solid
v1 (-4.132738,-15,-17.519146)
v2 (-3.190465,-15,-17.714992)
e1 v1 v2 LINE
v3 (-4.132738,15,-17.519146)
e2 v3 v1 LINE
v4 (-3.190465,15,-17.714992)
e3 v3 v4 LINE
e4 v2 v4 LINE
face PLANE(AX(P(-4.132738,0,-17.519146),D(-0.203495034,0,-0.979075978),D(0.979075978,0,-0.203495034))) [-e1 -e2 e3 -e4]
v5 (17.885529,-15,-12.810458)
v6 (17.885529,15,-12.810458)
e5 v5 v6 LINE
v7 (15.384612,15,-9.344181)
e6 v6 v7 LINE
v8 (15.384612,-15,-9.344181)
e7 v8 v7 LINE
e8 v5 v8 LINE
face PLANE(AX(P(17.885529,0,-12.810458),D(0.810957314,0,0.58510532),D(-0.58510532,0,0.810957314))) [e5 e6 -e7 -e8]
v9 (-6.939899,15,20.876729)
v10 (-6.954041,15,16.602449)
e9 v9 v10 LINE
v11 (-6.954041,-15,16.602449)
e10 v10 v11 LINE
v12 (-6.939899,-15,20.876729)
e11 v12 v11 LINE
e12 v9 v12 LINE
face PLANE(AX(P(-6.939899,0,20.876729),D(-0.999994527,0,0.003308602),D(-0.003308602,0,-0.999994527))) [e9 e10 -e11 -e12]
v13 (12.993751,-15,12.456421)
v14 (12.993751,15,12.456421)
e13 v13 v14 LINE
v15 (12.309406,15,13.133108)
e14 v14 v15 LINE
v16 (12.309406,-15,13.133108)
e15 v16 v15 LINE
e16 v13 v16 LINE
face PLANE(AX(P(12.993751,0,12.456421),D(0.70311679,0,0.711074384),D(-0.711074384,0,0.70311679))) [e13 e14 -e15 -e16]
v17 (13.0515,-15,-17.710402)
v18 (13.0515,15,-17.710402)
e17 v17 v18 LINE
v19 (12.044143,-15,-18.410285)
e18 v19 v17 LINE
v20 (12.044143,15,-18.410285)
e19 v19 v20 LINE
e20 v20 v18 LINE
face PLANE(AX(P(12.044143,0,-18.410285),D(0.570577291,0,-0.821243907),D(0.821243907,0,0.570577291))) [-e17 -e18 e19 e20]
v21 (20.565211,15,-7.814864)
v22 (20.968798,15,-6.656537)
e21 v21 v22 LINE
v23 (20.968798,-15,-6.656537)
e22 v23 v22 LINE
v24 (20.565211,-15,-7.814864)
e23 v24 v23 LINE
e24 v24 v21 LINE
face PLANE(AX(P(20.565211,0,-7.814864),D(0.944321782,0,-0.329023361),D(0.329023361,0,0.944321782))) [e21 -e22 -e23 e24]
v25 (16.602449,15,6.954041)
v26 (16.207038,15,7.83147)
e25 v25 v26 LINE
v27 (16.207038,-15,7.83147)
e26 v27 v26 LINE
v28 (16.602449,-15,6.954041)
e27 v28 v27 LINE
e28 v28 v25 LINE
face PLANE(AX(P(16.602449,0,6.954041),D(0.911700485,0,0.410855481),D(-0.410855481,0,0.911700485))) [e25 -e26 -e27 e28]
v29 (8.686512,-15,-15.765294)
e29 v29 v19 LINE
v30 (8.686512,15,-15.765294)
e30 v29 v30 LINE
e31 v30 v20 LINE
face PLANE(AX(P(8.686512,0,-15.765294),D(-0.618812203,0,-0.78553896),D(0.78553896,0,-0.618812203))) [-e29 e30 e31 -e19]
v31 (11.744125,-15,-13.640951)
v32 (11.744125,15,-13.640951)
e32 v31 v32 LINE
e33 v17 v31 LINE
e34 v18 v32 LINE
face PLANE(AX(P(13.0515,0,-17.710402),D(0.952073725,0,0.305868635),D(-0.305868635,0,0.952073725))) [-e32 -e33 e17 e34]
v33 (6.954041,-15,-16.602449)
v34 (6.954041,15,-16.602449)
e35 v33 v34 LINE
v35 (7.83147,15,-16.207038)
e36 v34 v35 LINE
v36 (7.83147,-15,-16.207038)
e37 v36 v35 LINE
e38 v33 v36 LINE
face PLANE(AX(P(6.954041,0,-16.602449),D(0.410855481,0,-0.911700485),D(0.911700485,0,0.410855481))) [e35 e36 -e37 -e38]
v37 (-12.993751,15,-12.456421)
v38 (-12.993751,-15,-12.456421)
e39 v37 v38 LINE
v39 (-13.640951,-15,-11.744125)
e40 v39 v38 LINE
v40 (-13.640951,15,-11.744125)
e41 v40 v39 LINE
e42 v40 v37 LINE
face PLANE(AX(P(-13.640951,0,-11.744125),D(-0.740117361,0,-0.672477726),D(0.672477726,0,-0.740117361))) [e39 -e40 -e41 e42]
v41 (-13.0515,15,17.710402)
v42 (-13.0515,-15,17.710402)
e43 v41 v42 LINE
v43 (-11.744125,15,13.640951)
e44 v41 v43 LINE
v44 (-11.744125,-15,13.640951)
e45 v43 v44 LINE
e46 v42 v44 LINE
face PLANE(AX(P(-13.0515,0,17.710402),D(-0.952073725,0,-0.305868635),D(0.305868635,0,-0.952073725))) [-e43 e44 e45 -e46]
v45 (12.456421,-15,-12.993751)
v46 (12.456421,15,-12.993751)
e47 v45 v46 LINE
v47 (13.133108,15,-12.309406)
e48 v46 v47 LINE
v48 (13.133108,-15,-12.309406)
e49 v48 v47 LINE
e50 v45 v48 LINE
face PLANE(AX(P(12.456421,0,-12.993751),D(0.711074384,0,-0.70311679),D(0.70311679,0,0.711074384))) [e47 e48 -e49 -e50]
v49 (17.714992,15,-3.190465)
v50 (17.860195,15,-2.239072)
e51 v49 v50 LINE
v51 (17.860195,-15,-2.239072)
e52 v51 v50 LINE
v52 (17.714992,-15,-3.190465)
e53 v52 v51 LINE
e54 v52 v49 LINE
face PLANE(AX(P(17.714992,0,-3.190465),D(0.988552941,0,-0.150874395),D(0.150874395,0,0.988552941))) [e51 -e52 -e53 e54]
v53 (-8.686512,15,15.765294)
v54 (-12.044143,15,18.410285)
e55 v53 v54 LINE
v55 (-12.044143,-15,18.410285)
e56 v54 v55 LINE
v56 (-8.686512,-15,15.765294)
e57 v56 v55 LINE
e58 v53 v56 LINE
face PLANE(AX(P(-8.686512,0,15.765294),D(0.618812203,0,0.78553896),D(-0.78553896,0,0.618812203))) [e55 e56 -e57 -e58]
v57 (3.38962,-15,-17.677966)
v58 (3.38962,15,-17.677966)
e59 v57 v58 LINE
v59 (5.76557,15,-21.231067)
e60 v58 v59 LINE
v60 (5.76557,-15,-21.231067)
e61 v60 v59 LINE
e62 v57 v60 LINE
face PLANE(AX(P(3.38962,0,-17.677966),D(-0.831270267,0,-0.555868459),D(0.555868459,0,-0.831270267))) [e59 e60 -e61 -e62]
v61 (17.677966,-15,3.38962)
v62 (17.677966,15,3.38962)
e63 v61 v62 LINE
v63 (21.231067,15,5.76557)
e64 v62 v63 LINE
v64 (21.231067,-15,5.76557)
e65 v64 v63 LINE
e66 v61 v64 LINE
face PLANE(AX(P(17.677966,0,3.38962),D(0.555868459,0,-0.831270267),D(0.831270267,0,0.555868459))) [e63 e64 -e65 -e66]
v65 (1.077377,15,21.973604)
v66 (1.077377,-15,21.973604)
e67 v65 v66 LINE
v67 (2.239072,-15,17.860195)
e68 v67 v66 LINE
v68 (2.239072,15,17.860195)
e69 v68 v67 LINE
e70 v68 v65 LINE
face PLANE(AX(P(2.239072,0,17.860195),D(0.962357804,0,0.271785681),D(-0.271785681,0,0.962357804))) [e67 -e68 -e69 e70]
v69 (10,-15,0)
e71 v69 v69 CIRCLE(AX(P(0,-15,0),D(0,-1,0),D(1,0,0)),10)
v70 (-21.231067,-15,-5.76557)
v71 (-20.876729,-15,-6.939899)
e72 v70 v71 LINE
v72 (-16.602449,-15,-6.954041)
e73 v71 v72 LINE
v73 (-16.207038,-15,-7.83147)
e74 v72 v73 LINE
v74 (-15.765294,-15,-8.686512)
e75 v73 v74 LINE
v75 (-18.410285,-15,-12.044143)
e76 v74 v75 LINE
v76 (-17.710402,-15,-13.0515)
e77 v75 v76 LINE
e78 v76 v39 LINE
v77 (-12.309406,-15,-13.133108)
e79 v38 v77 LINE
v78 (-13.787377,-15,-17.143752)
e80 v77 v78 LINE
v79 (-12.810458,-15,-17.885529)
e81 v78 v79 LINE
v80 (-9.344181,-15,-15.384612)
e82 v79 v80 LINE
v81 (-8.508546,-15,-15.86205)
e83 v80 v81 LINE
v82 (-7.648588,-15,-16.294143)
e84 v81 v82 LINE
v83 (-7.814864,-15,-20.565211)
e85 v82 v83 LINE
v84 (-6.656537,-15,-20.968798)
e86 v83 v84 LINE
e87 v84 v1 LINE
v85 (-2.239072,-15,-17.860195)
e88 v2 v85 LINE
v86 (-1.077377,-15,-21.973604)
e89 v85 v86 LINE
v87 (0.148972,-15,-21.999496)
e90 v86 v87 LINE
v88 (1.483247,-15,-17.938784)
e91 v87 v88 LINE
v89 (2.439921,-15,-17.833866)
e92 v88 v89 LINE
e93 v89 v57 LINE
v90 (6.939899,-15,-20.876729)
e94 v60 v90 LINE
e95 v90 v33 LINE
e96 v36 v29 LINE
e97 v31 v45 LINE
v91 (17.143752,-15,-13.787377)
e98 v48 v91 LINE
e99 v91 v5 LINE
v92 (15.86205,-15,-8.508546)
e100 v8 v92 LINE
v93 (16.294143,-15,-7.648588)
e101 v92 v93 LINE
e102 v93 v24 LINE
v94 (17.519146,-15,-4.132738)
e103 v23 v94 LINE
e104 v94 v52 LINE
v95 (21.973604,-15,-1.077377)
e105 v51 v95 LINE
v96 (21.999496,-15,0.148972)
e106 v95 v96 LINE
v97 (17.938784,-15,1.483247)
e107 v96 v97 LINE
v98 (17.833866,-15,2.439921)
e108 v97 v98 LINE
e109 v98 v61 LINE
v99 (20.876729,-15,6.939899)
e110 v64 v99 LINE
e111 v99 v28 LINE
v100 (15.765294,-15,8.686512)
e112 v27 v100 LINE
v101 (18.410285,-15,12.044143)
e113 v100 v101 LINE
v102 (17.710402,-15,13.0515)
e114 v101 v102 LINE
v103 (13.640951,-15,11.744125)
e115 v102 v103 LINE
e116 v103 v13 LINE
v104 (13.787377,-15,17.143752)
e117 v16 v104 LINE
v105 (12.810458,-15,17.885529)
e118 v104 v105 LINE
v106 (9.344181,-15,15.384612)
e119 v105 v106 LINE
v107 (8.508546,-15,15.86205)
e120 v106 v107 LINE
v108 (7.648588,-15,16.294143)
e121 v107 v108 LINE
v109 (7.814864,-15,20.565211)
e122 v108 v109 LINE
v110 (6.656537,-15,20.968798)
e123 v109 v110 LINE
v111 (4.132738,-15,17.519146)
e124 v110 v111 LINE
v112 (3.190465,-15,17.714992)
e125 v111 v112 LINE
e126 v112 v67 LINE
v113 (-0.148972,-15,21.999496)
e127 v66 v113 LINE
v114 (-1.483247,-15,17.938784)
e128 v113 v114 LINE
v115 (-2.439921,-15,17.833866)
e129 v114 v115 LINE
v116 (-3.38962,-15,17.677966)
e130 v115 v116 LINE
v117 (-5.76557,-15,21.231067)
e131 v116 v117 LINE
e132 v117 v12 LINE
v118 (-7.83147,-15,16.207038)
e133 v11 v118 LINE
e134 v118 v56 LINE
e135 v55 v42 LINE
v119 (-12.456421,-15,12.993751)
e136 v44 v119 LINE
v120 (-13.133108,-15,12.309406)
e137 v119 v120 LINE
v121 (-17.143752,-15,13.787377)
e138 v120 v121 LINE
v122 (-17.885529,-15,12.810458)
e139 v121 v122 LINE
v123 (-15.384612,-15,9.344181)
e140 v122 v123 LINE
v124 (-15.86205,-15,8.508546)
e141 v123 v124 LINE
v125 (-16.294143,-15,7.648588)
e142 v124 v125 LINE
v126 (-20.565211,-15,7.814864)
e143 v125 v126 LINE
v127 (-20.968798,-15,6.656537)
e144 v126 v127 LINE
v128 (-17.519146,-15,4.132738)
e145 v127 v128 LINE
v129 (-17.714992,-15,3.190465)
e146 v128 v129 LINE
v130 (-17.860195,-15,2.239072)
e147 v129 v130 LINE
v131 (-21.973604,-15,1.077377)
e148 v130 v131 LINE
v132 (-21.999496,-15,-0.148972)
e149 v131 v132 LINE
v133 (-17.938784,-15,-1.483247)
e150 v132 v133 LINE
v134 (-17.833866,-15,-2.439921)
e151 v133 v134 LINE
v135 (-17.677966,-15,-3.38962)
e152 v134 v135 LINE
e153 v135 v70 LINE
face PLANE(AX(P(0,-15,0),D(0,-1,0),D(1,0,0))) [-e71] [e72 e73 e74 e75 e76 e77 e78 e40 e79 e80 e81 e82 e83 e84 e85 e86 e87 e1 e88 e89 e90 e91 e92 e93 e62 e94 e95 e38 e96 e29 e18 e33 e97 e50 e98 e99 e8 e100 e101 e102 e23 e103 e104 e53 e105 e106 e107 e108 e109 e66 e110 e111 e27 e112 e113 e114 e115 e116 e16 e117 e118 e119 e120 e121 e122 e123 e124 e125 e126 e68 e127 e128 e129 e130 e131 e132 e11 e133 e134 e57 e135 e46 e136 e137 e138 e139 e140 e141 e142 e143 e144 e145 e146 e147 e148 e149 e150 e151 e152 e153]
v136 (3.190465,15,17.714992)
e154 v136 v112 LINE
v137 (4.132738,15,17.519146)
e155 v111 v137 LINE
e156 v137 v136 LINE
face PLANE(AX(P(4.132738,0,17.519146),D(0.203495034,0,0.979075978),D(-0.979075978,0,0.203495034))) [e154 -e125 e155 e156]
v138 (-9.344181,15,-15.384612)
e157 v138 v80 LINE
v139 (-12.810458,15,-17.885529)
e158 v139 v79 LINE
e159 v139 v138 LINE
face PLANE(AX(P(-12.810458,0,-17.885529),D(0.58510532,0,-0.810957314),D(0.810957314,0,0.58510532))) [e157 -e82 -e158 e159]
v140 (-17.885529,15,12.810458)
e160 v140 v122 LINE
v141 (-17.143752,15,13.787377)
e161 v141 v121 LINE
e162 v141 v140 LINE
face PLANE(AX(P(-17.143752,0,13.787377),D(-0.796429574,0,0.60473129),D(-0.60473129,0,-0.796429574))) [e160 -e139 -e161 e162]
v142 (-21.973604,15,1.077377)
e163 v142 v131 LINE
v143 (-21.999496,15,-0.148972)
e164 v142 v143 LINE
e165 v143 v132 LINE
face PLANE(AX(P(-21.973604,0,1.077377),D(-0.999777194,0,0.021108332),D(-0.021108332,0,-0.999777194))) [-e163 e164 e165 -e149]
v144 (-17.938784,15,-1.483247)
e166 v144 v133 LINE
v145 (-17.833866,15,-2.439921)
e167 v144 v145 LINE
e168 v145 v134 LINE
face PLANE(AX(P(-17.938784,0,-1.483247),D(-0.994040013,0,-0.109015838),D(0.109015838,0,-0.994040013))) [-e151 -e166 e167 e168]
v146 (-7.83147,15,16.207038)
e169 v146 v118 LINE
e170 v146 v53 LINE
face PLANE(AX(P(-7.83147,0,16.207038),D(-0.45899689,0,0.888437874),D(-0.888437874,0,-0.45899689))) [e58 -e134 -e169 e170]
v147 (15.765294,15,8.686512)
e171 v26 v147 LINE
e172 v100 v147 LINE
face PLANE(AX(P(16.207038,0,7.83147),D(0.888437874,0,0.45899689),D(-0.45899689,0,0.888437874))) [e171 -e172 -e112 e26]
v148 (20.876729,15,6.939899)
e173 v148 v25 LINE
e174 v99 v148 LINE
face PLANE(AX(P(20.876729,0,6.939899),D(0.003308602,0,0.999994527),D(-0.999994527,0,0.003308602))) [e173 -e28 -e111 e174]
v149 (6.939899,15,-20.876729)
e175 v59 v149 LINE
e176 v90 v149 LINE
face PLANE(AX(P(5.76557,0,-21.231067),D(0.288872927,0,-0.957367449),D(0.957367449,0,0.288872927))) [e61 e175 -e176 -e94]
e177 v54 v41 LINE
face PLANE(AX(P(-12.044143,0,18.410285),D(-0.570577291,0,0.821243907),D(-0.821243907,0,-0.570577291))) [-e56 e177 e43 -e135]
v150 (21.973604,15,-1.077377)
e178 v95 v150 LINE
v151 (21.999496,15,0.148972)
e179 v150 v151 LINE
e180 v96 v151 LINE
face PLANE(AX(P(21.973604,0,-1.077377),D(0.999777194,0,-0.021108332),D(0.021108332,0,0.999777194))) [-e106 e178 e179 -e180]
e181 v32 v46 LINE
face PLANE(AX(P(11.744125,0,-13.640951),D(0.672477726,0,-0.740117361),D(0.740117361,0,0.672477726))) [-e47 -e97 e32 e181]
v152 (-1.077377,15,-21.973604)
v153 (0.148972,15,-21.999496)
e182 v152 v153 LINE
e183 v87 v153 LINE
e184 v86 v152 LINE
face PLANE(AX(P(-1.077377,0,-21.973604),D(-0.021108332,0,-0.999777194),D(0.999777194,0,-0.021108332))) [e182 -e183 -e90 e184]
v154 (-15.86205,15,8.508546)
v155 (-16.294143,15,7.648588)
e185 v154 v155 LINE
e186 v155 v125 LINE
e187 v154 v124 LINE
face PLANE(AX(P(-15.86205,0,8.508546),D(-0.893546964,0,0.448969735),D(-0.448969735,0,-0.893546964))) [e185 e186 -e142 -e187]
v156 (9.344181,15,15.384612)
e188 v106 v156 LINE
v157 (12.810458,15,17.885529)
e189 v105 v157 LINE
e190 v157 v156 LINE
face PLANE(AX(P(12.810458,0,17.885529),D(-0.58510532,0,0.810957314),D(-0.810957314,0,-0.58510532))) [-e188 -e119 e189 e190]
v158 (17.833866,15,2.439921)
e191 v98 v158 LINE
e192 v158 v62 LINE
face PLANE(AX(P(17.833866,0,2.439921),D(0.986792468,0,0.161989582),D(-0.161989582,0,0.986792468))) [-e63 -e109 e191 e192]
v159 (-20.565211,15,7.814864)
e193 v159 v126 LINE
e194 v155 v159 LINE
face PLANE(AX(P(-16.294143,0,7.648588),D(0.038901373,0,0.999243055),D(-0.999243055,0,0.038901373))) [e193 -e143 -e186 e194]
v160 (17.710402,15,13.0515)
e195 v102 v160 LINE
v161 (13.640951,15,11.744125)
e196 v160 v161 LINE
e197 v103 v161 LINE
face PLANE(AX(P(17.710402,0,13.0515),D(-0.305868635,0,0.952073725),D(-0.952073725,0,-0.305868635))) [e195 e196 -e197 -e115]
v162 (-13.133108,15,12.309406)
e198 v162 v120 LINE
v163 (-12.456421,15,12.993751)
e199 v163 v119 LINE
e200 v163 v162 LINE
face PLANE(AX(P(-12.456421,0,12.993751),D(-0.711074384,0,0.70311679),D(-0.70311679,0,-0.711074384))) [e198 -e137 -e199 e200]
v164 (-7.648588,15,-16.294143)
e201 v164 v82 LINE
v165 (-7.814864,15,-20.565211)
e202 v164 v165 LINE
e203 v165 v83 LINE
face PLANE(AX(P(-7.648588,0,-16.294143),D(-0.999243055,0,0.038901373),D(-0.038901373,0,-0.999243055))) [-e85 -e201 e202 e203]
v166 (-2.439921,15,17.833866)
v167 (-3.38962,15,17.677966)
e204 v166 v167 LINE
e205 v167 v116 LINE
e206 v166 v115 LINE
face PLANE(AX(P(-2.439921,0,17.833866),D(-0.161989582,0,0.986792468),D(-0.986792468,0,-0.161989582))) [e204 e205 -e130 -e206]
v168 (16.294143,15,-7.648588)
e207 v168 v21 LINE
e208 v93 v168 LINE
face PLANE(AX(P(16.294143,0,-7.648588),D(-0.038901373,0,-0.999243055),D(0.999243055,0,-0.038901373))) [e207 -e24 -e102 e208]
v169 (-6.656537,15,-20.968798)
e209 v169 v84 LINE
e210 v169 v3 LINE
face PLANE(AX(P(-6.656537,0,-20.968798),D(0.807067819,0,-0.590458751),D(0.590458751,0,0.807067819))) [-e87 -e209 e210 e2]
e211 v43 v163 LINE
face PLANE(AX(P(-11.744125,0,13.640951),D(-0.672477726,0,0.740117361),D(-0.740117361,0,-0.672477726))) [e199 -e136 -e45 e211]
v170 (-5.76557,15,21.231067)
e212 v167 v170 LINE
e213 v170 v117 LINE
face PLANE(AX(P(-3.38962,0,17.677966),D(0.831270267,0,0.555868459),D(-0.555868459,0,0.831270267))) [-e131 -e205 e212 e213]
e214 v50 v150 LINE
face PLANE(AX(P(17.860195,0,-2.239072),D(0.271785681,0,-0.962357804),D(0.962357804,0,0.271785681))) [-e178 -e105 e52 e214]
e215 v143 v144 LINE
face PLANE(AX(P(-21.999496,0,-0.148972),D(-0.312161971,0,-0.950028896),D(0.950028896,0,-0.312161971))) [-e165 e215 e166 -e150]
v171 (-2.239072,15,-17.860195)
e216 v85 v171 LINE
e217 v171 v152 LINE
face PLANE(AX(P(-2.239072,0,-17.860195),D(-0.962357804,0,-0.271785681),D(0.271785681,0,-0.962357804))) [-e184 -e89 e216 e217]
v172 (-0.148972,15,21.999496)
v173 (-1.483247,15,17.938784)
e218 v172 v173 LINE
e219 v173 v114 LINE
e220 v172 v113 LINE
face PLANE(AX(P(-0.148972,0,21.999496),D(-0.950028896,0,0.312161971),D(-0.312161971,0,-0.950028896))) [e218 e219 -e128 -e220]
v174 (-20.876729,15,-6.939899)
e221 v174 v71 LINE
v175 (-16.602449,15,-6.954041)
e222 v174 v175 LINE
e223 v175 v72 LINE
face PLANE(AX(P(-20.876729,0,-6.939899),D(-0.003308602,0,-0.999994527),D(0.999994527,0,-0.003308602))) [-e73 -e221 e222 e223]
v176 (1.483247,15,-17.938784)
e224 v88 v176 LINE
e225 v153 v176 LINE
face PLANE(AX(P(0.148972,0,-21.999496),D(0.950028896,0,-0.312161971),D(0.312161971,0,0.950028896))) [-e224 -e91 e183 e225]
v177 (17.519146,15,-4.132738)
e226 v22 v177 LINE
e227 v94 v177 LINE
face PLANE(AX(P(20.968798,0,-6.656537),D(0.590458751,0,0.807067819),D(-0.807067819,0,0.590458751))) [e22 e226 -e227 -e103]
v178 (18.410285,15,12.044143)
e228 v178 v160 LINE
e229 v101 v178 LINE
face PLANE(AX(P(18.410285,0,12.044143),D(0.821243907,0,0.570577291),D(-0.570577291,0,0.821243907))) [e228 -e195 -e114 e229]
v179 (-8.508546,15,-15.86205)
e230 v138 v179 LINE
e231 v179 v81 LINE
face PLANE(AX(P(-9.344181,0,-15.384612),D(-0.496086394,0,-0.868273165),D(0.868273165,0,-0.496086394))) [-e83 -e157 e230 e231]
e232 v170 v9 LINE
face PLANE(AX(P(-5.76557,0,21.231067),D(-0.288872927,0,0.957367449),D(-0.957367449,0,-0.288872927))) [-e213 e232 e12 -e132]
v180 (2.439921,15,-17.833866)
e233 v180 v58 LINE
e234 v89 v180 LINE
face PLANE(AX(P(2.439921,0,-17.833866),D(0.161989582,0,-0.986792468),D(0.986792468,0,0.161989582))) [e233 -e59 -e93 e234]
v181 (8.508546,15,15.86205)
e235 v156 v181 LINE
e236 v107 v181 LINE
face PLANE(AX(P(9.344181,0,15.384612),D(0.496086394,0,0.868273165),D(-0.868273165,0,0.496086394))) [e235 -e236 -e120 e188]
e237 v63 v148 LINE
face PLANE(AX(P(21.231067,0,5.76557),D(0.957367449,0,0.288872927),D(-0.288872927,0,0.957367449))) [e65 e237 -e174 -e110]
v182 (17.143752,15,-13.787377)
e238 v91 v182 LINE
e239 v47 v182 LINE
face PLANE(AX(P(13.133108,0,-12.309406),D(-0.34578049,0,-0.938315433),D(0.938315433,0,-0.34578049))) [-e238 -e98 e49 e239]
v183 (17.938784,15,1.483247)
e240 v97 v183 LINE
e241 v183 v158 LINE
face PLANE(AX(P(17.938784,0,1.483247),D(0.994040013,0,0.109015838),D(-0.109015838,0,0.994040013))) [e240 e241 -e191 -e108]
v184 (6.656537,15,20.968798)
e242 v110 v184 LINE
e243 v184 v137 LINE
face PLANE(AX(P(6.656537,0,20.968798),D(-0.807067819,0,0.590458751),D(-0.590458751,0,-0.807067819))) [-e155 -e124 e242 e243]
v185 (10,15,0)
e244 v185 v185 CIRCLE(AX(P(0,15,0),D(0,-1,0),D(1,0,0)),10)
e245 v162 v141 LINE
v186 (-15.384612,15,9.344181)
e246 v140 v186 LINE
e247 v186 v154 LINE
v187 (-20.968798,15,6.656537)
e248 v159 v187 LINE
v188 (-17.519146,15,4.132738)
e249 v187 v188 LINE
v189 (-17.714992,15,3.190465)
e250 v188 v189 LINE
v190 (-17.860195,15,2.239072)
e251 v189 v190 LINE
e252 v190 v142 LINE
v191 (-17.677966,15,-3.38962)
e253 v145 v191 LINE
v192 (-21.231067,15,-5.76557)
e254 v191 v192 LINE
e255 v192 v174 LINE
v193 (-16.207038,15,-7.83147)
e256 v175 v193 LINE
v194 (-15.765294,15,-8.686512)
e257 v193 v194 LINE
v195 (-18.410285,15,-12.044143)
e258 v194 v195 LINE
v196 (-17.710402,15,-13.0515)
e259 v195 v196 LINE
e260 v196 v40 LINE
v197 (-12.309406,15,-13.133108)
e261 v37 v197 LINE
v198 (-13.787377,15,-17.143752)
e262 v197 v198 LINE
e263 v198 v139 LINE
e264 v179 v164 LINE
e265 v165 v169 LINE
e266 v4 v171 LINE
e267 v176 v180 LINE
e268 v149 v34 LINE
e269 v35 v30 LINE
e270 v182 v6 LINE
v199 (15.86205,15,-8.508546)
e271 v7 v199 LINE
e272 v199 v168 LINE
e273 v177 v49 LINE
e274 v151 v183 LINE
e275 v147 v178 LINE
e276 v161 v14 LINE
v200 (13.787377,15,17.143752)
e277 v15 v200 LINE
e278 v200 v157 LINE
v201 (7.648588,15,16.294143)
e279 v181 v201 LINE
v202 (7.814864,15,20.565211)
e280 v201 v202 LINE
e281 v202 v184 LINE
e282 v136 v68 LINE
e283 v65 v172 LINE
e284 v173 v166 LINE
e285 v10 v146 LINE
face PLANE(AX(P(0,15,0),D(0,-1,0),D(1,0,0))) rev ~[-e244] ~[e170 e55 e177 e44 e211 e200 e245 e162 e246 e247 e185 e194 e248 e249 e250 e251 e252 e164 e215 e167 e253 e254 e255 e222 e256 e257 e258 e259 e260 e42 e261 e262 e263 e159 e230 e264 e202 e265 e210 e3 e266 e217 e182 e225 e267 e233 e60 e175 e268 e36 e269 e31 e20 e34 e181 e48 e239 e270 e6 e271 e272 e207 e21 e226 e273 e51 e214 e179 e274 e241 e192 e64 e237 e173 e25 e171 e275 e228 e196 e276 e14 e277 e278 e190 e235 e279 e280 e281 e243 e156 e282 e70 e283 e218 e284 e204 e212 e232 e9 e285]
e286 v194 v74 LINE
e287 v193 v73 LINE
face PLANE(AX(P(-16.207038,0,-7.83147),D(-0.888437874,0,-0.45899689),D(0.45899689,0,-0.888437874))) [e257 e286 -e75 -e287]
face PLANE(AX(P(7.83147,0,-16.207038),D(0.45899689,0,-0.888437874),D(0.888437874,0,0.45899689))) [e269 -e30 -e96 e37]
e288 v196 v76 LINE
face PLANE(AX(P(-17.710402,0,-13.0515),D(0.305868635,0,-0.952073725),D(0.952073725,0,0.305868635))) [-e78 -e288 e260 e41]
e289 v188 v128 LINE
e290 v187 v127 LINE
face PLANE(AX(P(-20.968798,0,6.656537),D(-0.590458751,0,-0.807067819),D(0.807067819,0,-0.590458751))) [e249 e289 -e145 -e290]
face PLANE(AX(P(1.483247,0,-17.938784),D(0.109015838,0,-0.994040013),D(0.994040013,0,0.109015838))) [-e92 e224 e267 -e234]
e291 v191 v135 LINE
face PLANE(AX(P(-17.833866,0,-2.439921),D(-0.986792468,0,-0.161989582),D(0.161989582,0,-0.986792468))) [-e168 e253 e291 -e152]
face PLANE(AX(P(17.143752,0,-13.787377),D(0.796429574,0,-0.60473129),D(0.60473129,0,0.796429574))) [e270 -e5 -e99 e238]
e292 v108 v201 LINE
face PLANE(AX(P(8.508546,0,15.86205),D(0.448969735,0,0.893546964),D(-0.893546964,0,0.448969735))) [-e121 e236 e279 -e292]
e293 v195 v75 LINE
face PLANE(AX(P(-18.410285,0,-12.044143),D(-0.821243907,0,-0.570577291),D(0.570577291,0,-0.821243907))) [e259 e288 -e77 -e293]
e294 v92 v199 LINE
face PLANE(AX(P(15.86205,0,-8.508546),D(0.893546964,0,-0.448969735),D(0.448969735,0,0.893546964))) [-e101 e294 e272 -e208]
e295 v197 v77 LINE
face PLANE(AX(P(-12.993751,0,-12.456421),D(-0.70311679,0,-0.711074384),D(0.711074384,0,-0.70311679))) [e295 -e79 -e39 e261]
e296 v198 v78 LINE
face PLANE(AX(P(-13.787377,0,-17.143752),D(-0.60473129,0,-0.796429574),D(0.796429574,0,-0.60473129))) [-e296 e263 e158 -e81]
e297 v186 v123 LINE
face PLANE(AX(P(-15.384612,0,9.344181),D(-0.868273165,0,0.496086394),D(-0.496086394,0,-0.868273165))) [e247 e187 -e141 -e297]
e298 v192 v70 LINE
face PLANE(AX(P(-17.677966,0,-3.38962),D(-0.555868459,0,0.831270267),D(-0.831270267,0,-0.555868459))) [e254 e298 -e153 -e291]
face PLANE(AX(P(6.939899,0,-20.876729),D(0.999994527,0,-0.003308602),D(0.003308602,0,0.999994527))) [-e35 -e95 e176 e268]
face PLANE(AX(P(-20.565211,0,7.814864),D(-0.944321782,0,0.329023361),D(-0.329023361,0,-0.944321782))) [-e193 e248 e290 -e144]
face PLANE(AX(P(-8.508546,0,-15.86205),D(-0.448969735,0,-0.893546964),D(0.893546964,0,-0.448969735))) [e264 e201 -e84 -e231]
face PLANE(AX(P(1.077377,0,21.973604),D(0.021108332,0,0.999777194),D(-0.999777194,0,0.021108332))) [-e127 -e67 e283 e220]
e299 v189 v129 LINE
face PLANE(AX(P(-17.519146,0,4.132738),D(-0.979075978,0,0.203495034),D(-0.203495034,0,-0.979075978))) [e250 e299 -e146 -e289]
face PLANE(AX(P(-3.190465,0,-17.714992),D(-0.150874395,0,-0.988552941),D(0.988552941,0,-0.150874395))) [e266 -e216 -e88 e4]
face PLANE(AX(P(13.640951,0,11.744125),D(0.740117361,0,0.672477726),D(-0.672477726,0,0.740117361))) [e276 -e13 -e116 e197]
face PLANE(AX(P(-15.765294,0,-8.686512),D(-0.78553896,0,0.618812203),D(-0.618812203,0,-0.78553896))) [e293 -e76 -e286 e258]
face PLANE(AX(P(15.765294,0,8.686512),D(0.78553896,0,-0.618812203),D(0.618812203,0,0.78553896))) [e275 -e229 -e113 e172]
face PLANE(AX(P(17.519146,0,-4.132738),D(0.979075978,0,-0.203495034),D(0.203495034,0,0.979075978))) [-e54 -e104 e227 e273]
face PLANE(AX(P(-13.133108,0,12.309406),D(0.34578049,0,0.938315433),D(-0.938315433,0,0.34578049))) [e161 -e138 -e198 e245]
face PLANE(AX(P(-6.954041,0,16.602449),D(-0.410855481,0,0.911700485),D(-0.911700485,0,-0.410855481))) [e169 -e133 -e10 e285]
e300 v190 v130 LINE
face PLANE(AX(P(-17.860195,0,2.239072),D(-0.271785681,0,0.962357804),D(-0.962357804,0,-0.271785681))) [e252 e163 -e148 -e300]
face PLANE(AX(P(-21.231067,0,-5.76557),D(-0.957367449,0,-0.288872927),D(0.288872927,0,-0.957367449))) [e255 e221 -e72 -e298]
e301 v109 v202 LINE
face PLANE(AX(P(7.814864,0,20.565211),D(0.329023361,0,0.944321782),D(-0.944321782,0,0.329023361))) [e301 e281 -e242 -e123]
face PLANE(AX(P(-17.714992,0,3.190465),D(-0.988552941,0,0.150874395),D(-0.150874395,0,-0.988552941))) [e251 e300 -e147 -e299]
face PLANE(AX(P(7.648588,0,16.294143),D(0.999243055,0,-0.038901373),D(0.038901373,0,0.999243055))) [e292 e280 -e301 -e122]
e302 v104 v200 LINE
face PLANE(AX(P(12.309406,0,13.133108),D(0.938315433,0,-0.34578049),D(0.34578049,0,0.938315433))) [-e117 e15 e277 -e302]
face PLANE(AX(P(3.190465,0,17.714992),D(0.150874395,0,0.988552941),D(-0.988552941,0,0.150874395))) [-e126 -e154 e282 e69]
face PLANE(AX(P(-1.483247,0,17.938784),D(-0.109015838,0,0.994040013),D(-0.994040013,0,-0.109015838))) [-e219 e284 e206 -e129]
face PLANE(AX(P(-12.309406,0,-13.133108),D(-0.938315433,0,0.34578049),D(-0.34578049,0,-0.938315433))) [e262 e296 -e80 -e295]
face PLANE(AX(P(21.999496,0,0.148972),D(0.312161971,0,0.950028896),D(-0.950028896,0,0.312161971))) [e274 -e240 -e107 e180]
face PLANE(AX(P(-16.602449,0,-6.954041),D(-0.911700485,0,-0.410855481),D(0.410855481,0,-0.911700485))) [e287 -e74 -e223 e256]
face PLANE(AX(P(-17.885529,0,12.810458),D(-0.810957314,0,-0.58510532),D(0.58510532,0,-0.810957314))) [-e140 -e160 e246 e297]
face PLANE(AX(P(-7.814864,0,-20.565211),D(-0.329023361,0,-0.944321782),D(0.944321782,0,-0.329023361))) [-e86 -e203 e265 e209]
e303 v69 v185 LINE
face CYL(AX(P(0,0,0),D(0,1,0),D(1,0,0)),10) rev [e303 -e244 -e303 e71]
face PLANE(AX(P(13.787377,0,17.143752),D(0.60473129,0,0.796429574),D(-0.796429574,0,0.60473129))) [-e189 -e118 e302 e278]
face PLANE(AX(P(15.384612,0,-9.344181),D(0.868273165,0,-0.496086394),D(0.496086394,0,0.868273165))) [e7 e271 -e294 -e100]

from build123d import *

# Parameters (mm, degrees)
F0_R     = 10
F1_DEPTH = 15


with BuildPart() as f1:
    # F0 (on Front) → F1 (new body, symmetric)
    with BuildSketch(Plane.XZ):
        Polygon((4.132737753, 17.5191460598), (3.1904651552, 17.7149917328), (2.2390718331, 17.8601947729), (1.0773774715, 21.9736036595), (-0.1489718291, 21.9994956168), (-1.4832466893, 17.9387842191), (-2.4399208248, 17.8338662765), (-3.3896198503, 17.6779658691), (-5.7655700937, 21.2310668949), (-6.9398986421, 20.8767288347), (-6.9540406112, 16.6024491921), (-7.8314703545, 16.2070377332), (-8.686511926, 15.7652944965), (-12.044143487, 18.4102853771), (-13.0514998229, 17.7104023775), (-11.7441245865, 13.6409507622), (-12.4564210009, 12.9937514156), (-13.1331076918, 12.3094062552), (-17.1437521993, 13.7873768545), (-17.8855292658, 12.81045834), (-15.3846118211, 9.3441810296), (-15.8620503707, 8.5085461765), (-16.294143373, 7.648587565), (-20.5652109988, 7.8148638232), (-20.9687984885, 6.6565373844), (-17.5191460598, 4.132737753), (-17.7149917328, 3.1904651552), (-17.8601947729, 2.2390718331), (-21.9736036595, 1.0773774715), (-21.9994956168, -0.1489718291), (-17.9387842191, -1.4832466893), (-17.8338662765, -2.4399208248), (-17.6779658691, -3.3896198503), (-21.2310668949, -5.7655700937), (-20.8767288347, -6.9398986421), (-16.6024491921, -6.9540406112), (-16.2070377332, -7.8314703545), (-15.7652944965, -8.686511926), (-18.4102853771, -12.044143487), (-17.7104023775, -13.0514998229), (-13.6409507622, -11.7441245865), (-12.9937514156, -12.4564210009), (-12.3094062552, -13.1331076918), (-13.7873768545, -17.1437521993), (-12.81045834, -17.8855292658), (-9.3441810296, -15.3846118211), (-8.5085461765, -15.8620503707), (-7.648587565, -16.294143373), (-7.8148638232, -20.5652109988), (-6.6565373844, -20.9687984885), (-4.132737753, -17.5191460598), (-3.1904651552, -17.7149917328), (-2.2390718331, -17.8601947729), (-1.0773774715, -21.9736036595), (0.1489718291, -21.9994956168), (1.4832466893, -17.9387842191), (2.4399208248, -17.8338662765), (3.3896198503, -17.6779658691), (5.7655700937, -21.2310668949), (6.9398986421, -20.8767288347), (6.9540406112, -16.6024491921), (7.8314703545, -16.2070377332), (8.686511926, -15.7652944965), (12.044143487, -18.4102853771), (13.0514998229, -17.7104023775), (11.7441245865, -13.6409507622), (12.4564210009, -12.9937514156), (13.1331076918, -12.3094062552), (17.1437521993, -13.7873768545), (17.8855292658, -12.81045834), (15.3846118211, -9.3441810296), (15.8620503707, -8.5085461765), (16.294143373, -7.648587565), (20.5652109988, -7.8148638232), (20.9687984885, -6.6565373844), (17.5191460598, -4.132737753), (17.7149917328, -3.1904651552), (17.8601947729, -2.2390718331), (21.9736036595, -1.0773774715), (21.9994956168, 0.1489718291), (17.9387842191, 1.4832466893), (17.8338662765, 2.4399208248), (17.6779658691, 3.3896198503), (21.2310668949, 5.7655700937), (20.8767288347, 6.9398986421), (16.6024491921, 6.9540406112), (16.2070377332, 7.8314703545), (15.7652944965, 8.686511926), (18.4102853771, 12.044143487), (17.7104023775, 13.0514998229), (13.6409507622, 11.7441245865), (12.9937514156, 12.4564210009), (12.3094062552, 13.1331076918), (13.7873768545, 17.1437521993), (12.81045834, 17.8855292658), (9.3441810296, 15.3846118211), (8.5085461765, 15.8620503707), (7.648587565, 16.294143373), (7.8148638232, 20.5652109988), (6.6565373844, 20.9687984885), align=None)
        Circle(F0_R, mode=Mode.SUBTRACT)
    extrude(amount=F1_DEPTH, both=True)


solid = f1.part
